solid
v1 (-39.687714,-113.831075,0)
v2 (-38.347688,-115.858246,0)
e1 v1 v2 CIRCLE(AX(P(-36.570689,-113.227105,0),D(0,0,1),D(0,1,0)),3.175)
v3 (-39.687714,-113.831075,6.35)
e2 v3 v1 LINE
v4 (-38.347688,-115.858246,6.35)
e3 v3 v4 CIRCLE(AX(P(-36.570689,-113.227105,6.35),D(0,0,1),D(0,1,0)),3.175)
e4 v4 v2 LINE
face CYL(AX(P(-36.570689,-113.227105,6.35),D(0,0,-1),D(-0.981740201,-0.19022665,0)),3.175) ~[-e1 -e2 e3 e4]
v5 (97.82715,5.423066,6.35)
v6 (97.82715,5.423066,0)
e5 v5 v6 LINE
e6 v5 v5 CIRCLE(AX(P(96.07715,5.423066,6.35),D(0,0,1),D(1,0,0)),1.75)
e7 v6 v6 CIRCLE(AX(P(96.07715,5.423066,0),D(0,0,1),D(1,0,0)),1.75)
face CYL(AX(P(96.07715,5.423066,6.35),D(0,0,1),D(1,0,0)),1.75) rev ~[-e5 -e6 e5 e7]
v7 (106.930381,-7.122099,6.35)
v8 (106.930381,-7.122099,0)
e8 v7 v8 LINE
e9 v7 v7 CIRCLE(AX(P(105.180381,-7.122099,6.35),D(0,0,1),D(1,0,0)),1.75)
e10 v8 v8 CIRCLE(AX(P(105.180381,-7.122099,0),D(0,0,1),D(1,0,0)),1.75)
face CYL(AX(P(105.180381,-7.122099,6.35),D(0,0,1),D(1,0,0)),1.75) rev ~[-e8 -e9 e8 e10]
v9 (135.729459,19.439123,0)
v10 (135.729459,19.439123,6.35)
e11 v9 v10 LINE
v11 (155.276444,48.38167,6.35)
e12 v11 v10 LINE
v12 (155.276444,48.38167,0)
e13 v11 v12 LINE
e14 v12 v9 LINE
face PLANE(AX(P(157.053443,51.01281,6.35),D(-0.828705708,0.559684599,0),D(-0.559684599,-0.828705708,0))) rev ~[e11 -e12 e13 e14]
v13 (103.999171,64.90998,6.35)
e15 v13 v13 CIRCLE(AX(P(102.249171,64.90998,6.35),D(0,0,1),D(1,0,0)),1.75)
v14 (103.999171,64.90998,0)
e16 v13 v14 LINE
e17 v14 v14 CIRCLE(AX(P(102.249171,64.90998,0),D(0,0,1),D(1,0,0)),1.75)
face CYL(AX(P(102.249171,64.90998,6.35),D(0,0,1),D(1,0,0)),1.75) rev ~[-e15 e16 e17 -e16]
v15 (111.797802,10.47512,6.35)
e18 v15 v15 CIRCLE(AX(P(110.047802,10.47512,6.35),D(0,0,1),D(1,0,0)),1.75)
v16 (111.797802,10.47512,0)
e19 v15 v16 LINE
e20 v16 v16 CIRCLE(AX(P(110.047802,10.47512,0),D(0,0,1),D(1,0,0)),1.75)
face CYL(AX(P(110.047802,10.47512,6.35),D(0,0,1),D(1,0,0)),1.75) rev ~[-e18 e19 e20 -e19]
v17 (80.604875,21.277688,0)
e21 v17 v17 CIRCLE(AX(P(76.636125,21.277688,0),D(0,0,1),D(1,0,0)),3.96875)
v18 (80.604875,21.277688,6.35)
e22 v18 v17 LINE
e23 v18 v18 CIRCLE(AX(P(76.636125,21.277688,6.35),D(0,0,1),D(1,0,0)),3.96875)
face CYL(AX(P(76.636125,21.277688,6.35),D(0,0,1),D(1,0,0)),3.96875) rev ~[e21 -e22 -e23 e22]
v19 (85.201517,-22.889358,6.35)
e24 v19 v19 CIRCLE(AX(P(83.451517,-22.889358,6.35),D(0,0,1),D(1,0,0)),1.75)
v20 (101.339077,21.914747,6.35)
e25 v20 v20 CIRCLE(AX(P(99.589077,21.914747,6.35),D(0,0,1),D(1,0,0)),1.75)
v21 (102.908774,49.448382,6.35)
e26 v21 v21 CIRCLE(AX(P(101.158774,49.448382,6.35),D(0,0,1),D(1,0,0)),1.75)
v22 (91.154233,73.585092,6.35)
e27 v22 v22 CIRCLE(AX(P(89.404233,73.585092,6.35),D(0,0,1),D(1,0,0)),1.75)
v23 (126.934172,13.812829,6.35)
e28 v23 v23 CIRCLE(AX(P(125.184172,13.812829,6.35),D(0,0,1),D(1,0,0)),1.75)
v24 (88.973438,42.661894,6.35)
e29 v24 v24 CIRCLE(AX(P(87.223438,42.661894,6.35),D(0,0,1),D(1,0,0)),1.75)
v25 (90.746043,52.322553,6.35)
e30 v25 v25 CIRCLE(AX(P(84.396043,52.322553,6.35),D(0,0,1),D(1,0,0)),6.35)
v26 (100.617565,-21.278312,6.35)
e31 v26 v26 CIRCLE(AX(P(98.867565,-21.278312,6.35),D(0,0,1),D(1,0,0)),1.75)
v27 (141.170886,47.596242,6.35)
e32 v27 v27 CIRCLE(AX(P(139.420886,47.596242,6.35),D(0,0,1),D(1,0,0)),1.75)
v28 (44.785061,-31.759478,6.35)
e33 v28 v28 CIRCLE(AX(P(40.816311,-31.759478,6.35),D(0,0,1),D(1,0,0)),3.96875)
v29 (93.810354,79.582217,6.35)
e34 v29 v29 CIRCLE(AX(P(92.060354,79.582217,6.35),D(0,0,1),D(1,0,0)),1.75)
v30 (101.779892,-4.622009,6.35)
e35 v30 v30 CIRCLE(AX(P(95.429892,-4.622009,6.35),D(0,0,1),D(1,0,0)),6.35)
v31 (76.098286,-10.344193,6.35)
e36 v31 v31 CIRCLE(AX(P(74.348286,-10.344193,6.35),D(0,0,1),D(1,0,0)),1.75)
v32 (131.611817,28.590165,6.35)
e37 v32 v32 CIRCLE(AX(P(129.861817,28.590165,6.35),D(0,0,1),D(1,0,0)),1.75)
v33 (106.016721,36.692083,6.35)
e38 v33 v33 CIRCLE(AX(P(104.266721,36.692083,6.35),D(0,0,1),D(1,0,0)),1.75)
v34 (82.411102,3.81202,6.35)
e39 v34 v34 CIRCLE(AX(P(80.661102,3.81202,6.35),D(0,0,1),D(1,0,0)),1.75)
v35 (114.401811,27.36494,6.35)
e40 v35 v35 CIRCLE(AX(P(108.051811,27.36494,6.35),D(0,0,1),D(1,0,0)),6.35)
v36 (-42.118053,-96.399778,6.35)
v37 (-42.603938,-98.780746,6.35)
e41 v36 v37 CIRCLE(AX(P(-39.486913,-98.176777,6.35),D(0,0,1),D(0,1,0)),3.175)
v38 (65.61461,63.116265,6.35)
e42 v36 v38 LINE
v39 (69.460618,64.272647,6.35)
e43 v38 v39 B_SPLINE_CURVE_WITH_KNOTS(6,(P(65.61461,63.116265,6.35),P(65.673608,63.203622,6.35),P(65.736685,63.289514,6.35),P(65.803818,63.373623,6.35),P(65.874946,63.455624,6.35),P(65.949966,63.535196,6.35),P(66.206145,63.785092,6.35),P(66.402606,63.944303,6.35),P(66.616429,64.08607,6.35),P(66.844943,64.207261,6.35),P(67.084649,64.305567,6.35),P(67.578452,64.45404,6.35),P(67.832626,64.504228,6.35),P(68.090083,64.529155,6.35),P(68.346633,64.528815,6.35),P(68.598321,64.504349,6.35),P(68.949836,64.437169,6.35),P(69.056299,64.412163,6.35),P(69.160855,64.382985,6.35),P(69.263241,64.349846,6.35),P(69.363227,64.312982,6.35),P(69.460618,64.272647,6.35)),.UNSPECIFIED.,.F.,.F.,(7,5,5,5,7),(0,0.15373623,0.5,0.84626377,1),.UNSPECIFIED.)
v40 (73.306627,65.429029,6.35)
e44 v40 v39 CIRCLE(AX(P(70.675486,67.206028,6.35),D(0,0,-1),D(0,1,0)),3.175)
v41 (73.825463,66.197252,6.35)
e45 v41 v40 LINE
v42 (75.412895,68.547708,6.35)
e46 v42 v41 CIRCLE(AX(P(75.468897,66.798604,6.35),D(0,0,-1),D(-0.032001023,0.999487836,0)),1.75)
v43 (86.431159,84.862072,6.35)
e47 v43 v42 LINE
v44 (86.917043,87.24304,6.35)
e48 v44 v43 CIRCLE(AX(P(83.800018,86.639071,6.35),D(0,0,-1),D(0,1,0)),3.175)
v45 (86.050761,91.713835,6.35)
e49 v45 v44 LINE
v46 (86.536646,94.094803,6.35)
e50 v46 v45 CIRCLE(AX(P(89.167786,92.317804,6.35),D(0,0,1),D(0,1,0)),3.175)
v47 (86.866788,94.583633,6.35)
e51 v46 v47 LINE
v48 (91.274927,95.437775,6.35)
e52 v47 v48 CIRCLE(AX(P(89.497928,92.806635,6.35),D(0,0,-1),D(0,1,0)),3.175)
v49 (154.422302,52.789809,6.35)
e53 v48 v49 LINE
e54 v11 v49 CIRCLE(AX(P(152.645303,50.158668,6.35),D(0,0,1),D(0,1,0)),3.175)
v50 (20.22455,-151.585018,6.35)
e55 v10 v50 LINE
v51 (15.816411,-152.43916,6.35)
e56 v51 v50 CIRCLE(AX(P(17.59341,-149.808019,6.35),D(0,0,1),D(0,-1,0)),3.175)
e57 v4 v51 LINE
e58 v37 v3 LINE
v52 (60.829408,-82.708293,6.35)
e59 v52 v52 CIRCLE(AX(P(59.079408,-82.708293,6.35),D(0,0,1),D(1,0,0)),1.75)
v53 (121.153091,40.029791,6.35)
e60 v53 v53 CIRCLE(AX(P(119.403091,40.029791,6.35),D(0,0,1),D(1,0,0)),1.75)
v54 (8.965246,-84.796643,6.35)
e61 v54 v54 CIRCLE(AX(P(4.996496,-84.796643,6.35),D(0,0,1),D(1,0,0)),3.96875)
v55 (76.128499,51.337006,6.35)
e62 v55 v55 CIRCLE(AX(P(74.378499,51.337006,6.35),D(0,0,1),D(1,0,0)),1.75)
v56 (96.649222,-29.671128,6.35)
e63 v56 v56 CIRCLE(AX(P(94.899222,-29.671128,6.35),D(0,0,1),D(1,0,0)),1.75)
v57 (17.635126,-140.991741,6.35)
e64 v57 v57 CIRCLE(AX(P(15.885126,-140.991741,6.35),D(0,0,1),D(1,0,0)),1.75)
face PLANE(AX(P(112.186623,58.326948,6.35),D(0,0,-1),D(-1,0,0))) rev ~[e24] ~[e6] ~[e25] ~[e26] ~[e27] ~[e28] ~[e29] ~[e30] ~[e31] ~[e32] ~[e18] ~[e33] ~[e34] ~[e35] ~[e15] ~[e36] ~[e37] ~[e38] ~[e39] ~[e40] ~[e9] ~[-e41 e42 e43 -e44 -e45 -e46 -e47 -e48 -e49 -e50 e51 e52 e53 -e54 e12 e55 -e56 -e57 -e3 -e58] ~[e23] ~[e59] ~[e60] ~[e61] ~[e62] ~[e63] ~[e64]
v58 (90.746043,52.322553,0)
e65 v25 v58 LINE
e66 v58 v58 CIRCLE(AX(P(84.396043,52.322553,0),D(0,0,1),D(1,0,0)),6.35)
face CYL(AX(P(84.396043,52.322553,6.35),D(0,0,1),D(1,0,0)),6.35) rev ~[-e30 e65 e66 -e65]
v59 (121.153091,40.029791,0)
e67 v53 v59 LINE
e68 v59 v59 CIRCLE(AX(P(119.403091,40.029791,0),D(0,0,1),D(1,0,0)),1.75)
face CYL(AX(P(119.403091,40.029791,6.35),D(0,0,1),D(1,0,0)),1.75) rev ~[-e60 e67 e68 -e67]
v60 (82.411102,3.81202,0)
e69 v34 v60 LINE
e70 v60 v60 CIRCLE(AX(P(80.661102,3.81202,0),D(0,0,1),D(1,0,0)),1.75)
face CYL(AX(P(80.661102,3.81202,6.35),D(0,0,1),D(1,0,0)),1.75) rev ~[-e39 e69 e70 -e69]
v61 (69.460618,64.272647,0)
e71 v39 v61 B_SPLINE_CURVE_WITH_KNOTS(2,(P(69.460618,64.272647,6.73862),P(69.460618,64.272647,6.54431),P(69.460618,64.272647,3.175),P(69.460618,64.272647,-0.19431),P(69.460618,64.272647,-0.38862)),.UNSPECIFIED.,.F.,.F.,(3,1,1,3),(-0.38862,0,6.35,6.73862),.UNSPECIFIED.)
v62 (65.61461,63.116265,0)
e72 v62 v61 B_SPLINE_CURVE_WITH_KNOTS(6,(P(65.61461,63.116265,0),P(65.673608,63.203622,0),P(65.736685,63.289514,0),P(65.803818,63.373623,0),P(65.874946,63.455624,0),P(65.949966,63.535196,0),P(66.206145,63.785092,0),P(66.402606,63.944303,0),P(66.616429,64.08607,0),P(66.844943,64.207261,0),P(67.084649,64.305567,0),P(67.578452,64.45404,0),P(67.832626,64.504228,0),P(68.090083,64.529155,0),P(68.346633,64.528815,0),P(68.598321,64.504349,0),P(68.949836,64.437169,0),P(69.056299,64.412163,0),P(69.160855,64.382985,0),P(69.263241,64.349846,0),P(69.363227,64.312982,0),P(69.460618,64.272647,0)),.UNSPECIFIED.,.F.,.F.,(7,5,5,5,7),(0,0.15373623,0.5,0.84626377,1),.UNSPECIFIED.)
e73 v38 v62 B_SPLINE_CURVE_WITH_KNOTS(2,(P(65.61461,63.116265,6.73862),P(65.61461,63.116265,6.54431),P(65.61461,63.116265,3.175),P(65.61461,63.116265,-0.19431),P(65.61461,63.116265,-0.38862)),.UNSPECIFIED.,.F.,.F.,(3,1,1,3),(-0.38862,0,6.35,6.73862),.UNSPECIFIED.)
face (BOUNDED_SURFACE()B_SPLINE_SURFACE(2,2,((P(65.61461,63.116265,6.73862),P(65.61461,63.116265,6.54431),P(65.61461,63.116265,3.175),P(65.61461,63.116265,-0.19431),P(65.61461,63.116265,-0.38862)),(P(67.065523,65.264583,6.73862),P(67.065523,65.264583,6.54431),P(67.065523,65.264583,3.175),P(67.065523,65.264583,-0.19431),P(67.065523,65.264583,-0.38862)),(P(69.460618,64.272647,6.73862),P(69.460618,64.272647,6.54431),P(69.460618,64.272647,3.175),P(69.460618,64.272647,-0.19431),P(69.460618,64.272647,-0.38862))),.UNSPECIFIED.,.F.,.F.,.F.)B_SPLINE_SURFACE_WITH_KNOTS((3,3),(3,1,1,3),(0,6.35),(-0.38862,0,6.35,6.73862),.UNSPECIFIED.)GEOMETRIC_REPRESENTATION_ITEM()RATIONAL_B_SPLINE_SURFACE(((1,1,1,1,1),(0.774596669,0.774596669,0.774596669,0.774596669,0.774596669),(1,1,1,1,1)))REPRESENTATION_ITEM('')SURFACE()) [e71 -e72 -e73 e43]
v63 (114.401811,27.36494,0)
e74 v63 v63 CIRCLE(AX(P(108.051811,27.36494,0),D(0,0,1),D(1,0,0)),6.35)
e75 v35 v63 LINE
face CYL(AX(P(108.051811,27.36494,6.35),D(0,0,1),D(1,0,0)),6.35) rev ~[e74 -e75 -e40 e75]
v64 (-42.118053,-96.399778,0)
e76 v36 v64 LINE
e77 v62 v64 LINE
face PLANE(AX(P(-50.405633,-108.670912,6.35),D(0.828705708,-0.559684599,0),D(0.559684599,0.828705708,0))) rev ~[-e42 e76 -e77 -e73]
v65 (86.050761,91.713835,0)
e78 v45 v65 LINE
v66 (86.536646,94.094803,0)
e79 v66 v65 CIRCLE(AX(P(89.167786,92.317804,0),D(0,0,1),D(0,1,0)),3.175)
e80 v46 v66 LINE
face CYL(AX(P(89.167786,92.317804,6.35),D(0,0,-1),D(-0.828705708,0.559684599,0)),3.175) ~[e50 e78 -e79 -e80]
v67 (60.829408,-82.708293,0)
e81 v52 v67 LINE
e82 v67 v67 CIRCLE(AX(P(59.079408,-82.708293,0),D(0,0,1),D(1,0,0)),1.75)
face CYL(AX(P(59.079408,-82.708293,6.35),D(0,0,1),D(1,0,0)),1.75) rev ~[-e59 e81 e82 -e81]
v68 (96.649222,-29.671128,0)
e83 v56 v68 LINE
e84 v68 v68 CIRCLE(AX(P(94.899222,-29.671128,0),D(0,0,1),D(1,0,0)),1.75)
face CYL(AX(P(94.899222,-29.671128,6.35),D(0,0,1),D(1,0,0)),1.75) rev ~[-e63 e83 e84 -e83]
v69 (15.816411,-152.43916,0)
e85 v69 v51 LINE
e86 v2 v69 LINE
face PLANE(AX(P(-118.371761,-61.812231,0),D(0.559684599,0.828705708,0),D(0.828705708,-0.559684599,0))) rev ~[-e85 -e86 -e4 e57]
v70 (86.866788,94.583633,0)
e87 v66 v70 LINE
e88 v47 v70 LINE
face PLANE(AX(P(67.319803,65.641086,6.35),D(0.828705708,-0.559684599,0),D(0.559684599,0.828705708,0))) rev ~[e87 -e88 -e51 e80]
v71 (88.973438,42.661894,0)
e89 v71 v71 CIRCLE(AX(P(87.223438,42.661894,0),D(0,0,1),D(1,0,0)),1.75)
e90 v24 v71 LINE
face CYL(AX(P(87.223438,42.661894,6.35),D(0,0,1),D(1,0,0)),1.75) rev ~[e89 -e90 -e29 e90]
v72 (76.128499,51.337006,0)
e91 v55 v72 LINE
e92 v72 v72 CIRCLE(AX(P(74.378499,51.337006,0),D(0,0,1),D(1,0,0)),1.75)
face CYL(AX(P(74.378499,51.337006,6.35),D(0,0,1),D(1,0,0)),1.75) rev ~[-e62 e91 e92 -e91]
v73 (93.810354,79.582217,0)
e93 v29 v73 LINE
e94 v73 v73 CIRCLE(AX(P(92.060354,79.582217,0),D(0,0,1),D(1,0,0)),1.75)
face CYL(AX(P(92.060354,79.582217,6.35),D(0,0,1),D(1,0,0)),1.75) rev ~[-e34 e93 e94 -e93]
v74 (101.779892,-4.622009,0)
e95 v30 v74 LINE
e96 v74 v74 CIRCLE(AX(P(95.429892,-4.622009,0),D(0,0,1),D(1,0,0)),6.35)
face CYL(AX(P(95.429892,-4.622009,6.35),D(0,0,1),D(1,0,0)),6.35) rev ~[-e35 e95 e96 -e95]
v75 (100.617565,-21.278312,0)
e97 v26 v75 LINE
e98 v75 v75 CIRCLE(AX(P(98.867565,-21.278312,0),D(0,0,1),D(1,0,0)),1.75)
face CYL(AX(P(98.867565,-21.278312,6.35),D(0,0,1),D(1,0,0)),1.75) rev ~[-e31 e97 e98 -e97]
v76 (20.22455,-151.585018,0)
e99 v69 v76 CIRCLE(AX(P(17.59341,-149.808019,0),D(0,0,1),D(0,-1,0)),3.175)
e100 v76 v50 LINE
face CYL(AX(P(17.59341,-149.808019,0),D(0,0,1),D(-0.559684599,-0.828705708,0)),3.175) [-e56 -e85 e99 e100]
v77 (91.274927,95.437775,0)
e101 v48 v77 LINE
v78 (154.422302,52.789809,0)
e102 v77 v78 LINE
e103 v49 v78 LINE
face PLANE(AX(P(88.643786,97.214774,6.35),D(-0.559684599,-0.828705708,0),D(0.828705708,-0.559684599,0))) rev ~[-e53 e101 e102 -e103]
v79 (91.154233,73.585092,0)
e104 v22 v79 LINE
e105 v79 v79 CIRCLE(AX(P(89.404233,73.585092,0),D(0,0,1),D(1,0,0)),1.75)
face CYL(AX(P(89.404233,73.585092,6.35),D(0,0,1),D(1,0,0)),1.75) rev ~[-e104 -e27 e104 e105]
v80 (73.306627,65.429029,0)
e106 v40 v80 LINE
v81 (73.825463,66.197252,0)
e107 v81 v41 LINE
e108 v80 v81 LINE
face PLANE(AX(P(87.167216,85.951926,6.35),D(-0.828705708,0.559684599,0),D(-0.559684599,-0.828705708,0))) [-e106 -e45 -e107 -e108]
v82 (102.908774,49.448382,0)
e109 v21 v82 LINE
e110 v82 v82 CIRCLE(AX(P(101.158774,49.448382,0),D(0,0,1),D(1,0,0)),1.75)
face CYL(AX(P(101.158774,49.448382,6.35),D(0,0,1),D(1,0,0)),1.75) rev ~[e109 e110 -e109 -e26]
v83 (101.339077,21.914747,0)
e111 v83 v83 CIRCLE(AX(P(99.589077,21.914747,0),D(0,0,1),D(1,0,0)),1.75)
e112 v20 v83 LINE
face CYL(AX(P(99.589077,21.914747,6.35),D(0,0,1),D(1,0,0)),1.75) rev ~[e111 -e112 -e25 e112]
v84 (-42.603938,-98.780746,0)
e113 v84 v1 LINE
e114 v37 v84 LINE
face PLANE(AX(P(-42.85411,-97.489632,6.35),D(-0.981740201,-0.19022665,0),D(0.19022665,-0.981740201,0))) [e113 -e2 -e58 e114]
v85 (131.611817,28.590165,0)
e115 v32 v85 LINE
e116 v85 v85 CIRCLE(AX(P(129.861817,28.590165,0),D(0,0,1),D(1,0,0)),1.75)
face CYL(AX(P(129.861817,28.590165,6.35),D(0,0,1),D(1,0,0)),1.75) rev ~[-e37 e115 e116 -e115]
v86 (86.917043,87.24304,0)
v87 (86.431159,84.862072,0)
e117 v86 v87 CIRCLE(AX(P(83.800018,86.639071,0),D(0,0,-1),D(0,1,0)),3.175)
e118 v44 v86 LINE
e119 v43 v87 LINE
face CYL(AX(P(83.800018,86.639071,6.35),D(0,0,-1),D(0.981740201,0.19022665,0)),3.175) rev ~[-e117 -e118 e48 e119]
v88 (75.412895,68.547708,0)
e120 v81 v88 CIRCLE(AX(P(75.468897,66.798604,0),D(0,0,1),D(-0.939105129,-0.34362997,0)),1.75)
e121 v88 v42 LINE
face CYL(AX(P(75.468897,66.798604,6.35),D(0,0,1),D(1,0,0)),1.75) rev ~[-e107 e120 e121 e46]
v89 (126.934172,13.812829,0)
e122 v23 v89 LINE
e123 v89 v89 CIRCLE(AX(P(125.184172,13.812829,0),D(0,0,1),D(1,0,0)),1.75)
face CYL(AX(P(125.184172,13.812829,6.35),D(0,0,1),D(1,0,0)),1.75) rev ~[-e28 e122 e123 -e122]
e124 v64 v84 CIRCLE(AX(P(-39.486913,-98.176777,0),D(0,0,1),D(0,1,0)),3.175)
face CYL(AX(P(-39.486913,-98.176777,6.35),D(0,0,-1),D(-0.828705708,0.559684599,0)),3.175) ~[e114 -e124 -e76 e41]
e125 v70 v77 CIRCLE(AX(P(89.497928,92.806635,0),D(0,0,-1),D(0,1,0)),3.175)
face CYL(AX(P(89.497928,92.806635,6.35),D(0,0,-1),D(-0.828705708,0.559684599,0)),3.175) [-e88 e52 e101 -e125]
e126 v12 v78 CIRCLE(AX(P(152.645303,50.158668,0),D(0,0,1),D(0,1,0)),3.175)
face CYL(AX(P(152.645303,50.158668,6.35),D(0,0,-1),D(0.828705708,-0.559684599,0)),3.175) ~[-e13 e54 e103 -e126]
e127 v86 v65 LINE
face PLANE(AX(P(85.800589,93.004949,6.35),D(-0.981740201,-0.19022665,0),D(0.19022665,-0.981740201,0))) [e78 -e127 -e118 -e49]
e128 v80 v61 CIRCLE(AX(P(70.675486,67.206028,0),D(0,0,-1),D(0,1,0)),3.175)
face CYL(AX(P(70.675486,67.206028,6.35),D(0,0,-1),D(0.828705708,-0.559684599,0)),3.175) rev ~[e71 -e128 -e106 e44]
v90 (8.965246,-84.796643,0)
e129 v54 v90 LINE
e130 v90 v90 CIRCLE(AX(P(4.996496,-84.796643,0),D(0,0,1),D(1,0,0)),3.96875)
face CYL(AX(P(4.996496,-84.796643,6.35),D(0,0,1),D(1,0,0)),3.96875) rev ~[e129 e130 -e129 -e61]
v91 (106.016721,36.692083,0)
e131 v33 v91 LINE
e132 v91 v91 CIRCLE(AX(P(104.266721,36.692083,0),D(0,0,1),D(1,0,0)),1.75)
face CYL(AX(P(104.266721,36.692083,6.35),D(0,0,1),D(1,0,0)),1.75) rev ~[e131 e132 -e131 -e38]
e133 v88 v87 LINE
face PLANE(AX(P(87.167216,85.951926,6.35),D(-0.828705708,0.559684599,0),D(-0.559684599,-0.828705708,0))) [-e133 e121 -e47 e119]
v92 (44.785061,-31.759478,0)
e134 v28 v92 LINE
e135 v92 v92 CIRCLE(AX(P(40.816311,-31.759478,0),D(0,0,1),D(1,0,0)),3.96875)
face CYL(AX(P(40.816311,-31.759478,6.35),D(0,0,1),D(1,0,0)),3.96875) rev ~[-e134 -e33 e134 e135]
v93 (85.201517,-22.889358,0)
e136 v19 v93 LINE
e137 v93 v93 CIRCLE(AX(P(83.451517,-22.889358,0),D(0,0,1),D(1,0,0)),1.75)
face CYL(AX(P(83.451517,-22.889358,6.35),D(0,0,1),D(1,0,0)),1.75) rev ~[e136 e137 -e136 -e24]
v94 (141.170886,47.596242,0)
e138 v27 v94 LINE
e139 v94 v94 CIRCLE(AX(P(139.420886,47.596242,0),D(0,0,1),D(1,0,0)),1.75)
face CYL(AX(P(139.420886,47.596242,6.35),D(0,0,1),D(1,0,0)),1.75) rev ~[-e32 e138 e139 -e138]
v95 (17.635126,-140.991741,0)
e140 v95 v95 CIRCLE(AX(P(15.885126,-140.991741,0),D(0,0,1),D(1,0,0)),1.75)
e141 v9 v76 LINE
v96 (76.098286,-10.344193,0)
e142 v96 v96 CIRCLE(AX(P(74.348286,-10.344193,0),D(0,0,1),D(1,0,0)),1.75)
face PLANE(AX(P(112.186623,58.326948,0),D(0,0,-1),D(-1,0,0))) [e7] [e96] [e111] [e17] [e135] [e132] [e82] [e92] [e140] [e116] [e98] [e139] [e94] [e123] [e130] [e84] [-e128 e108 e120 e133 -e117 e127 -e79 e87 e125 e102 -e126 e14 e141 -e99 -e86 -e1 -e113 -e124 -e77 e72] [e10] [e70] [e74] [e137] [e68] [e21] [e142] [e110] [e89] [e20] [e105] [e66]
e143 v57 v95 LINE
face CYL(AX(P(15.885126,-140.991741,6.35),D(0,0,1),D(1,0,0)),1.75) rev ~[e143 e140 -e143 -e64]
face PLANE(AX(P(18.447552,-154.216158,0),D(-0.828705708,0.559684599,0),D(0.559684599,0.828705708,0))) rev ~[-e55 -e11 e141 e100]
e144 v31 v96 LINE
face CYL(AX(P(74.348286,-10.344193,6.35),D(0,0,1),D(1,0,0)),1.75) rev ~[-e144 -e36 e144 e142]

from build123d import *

# Parameters (mm, degrees)
BOSS_EXTRUDE2_DEPTH = 6.35
CUT_EXTRUDE1_DEPTH  = 7.3500001
BOSS_EXTRUDE3_DEPTH = 6.35
SKETCH10_R          = 3.96875
CUT_EXTRUDE2_DEPTH  = 7.35
SKETCH11_R          = 4.5
CUT_EXTRUDE4_DEPTH  = 7.35
BOSS_EXTRUDE4_DEPTH = 6.35
SKETCH13_R          = 1.75
CUT_EXTRUDE5_DEPTH  = 7.35
LPATTERN1_COUNT     = 2
LPATTERN1_PITCH     = 64
SKETCH15_R          = 1.75
CUT_EXTRUDE7_DEPTH  = 7.35
SKETCH16_R          = 1.75
CUT_EXTRUDE8_DEPTH  = 7.35
SKETCH17_R          = 1.75
CUT_EXTRUDE9_DEPTH  = 7.35
SKETCH18_R          = 1.75
SKETCH18_R_2        = 6.35
CUT_EXTRUDE10_DEPTH = 7.35
CUT_EXTRUDE11_DEPTH = 7.35
CUT_EXTRUDE12_DEPTH = 7.35
FILLET1_R           = 3.175
FILLET2_R           = 3.175


with BuildPart() as part:
    # Sketch6 → Boss-Extrude2 (new body)
    with BuildSketch(Plane.XY):
        with BuildLine():
            Line((-68.006850091, -76.67090114), (-109.486767671, -48.656527855))
            Line((-109.486767671, -48.656527855), (-118.371760678, -61.812230963))
            Line((-118.371760678, -61.812230963), (18.447551645, -154.216158235))
            Line((18.447551645, -154.216158235), (135.729459338, 19.43912279))
            Line((135.729459338, 19.43912279), (-1.089852986, 111.843050063))
            Line((-1.089852986, 111.843050063), (-73.946795643, 3.966284577))
            Line((-73.946795643, 3.966284577), (-56.624438948, -7.732749433))
            ThreePointArc((-56.624438948, -7.732749433), (-43.058385537, 37.577891571), (0, 57.15))
            ThreePointArc((0, 57.15), (56.404848571, 31.095576642), (70.829334649, -29.338471048))
            add(Edge.make_bspline(
                [(70.829334649, -29.338471048), (70.811686062, -29.418295928), (70.776015112, -29.578104383), (70.713320217, -29.85478305), (70.619021771, -30.262929245), (70.501052001, -30.762086912), (70.364034474, -31.322191481), (70.199318515, -31.970958926), (70.000453855, -32.723919765), (69.795103485, -33.469783355), (69.582015398, -34.214296028), (69.361377803, -34.956693289), (69.133257682, -35.696762218), (68.838782679, -36.61892651), (68.470566207, -37.720710028), (68.019498024, -38.998776477), (67.474836154, -40.448808619), (66.901337925, -41.887676852), (66.299328392, -43.31485223), (65.669141732, -44.729810424), (65.011119088, -46.132040323), (64.325609411, -47.52103904), (63.612968547, -48.896314904), (62.87355937, -50.257385735), (62.107751613, -51.603779381), (61.315921169, -52.935034173), (60.49845004, -54.250698756), (59.655726138, -55.550331897), (58.571247582, -57.154294757), (57.220953058, -59.045283389), (55.576035723, -61.200397094), (53.604026134, -63.590264702), (51.54329346, -65.904053004), (49.39728314, -68.138962994), (47.169496434, -70.29235602), (44.863486103, -72.361752995), (42.482847363, -74.344831806), (40.031215607, -76.239428526), (36.882516177, -78.494556171), (32.976808929, -81.016011003), (28.250788286, -83.68089187), (21.41551215, -86.919136497), (14.30829026, -89.526654921), (6.996956895, -91.488176442), (-0.451922312, -92.797413176), (-6.61686174, -93.456358442), (-12.81195397, -93.702029749), (-19.009644204, -93.537285056), (-25.183124422, -92.966685286), (-31.306438312, -91.996382122), (-36.598524037, -90.804323442), (-41.072542301, -89.543185606), (-44.752319298, -88.33589156), (-47.664184976, -87.27761875), (-50.541347258, -86.128353728), (-53.381128552, -84.889612663), (-56.180924218, -83.562977818), (-58.593536599, -82.326710176), (-60.633378351, -81.214215821), (-62.313751085, -80.252471782), (-63.646071553, -79.462491566), (-64.966093336, -78.652178853), (-66.222359154, -77.854259082), (-67.143044791, -77.250601571), (-67.736251212, -76.85365602), (-68.006850091, -76.67090114)],
                knots=[0.071020771, 0.071020771, 0.071020771, 0.071020771, 0.071020771, 0.072848477, 0.074676184, 0.07650389, 0.078331597, 0.08198701, 0.085642423, 0.089297836, 0.092953249, 0.096608662, 0.100264075, 0.103919488, 0.107574901, 0.114885727, 0.122196554, 0.12950738, 0.136818214, 0.144129048, 0.151439882, 0.158750716, 0.166061558, 0.173372401, 0.180683243, 0.187994085, 0.195304924, 0.202615763, 0.209926602, 0.217237441, 0.231859103, 0.246480766, 0.261102426, 0.275724085, 0.290345754, 0.304967424, 0.319589099, 0.334210774, 0.348832457, 0.36345414, 0.392697464, 0.421940789, 0.451184112, 0.506140643, 0.535383973, 0.564627303, 0.593870641, 0.623113979, 0.652357319, 0.68160066, 0.710843985, 0.740087309, 0.754708984, 0.769330659, 0.783952333, 0.798574008, 0.813195669, 0.82781733, 0.842438991, 0.849749821, 0.857060652, 0.86437149, 0.871682327, 0.878993165, 0.885158103, 0.885158103, 0.885158103, 0.885158103, 0.885158103], degree=4))
        make_face()
    extrude(amount=BOSS_EXTRUDE2_DEPTH)

    # Sketch8 → Cut-Extrude1 (cut, through all)
    with BuildSketch(Plane.XY.offset(6.35)):
        Polygon((-71.011229489, -93.798205788), (-53.378672597, -90.381637707), (-42.854110111, -97.489632113), (-39.43754203, -115.122189004), align=None)
    extrude(amount=-CUT_EXTRUDE1_DEPTH, mode=Mode.SUBTRACT)

    # Sketch9 → Boss-Extrude3 (add, through all)
    with BuildSketch(Plane.XY.offset(6.35)):
        Polygon((-1.089852986, 111.843050063), (-109.486767671, -48.656527855), (27.332544652, -141.060455127), (135.729459338, 19.43912279), align=None)
    extrude(amount=-BOSS_EXTRUDE3_DEPTH)

    # Sketch10 → Cut-Extrude2 (cut, through all)
    with BuildSketch(Plane.XY.offset(6.35)):
        with Locations((4.996496209, -84.796642912)):
            Circle(SKETCH10_R)
        with Locations((40.816310536, -31.759477627)):
            Circle(SKETCH10_R)
        with Locations((76.636124864, 21.277687659)):
            Circle(SKETCH10_R)
        with Locations((-45.295165913, -45.214466102)):
            Circle(SKETCH10_R)
    extrude(amount=-CUT_EXTRUDE2_DEPTH, mode=Mode.SUBTRACT)

    # Sketch11 → Cut-Extrude4 (cut, through all)
    with BuildSketch(Plane.XY.offset(6.35)):
        Circle(SKETCH11_R)
    extrude(amount=-CUT_EXTRUDE4_DEPTH, mode=Mode.SUBTRACT)

    # Sketch12 → Boss-Extrude4 (add, through all)
    with BuildSketch(Plane.XY.offset(6.35)):
        Polygon((135.729459338, 19.43912279), (67.319803176, 65.641086427), (88.643786393, 97.214773886), (157.053442554, 51.01281025), align=None)
    extrude(amount=-BOSS_EXTRUDE4_DEPTH)

    # Sketch13 → Cut-Extrude5 (cut, through all)
    with BuildSketch(Plane.XY.offset(6.35)):
        with Locations((94.899221836, -29.671127724)):
            Circle(SKETCH13_R)
    cut_extrude5 = extrude(amount=-CUT_EXTRUDE5_DEPTH, mode=Mode.SUBTRACT)

    # LPattern1: Cut-Extrude5 ×2
    with Locations(*[Vector(-0.559684599, -0.828705708, 0) * (i * LPATTERN1_PITCH) for i in range(1, LPATTERN1_COUNT)]):
        add(cut_extrude5, mode=Mode.SUBTRACT)

    # Sketch15 → Cut-Extrude7 (cut, through all)
    with BuildSketch(Plane.XY.offset(6.35)):
        with Locations((-105.147343009, -59.249804902)):
            Circle(SKETCH15_R)
        with Locations((15.885125585, -140.991740566)):
            Circle(SKETCH15_R)
        with Locations((1.472573075, 98.618632394)):
            Circle(SKETCH15_R)
    extrude(amount=-CUT_EXTRUDE7_DEPTH, mode=Mode.SUBTRACT)

    # Sketch16 → Cut-Extrude8 (cut, through all)
    with BuildSketch(Plane.XY.offset(6.35)):
        with Locations((92.060354474, 79.582216994)):
            Circle(SKETCH16_R)
        with Locations((139.420885662, 47.596242169)):
            Circle(SKETCH16_R)
    extrude(amount=-CUT_EXTRUDE8_DEPTH, mode=Mode.SUBTRACT)

    # Sketch17 → Cut-Extrude9 (cut, through all)
    with BuildSketch(Plane.XY.offset(6.35)):
        with Locations((-26.311406216, 17.769986014)):
            Circle(SKETCH17_R)
        with Locations((17.769986014, 26.311406216)):
            Circle(SKETCH17_R)
    extrude(amount=-CUT_EXTRUDE9_DEPTH, mode=Mode.SUBTRACT)

    # Sketch18 → Cut-Extrude10 (cut, through all)
    with BuildSketch(Plane.XY.offset(6.35)):
        with Locations((75.468896753, 66.798604333)):
            Circle(SKETCH18_R)
        with Locations((74.378499235, 51.337005669)):
            Circle(SKETCH18_R)
        with Locations((87.223437703, 42.661894386)):
            Circle(SKETCH18_R)
        with Locations((101.158773688, 49.448381768)):
            Circle(SKETCH18_R)
        with Locations((102.249171205, 64.909980432)):
            Circle(SKETCH18_R)
        with Locations((89.404232738, 73.585091715)):
            Circle(SKETCH18_R)
        with Locations((99.589076537, 21.914747078)):
            Circle(SKETCH18_R)
        with Locations((104.266720973, 36.692082512)):
            Circle(SKETCH18_R)
        with Locations((119.403091077, 40.029791318)):
            Circle(SKETCH18_R)
        with Locations((129.861816745, 28.59016469)):
            Circle(SKETCH18_R)
        with Locations((125.18417231, 13.812829255)):
            Circle(SKETCH18_R)
        with Locations((110.047802206, 10.47512045)):
            Circle(SKETCH18_R)
        with Locations((105.180381325, -7.122099496)):
            Circle(SKETCH18_R)
        with Locations((96.077150237, 5.423066257)):
            Circle(SKETCH18_R)
        with Locations((80.661102457, 3.812019754)):
            Circle(SKETCH18_R)
        with Locations((74.348285765, -10.344192501)):
            Circle(SKETCH18_R)
        with Locations((83.451516853, -22.889358254)):
            Circle(SKETCH18_R)
        with Locations((98.867564633, -21.278311751)):
            Circle(SKETCH18_R)
        with Locations((84.396043028, 52.322553097)):
            Circle(SKETCH18_R_2)
        with Locations((108.051811284, 27.364940468)):
            Circle(SKETCH18_R_2)
        with Locations((95.429892272, -4.622009378)):
            Circle(SKETCH18_R_2)
    extrude(amount=-CUT_EXTRUDE10_DEPTH, mode=Mode.SUBTRACT)

    # Sketch19 → Cut-Extrude11 (cut, through all)
    with BuildSketch(Plane.XY.offset(6.35)):
        Polygon((67.319803176, 65.641086427), (-1.089852986, 111.843050063), (-118.81528907, -62.468948176), (-50.405632909, -108.670911813), align=None)
    extrude(amount=-CUT_EXTRUDE11_DEPTH, mode=Mode.SUBTRACT)

    # Sketch20 → Cut-Extrude12 (cut, through all)
    with BuildSketch(Plane.XY.offset(6.35)):
        Polygon((85.800588631, 93.004948891), (87.167215863, 85.951926135), (71.529628171, 62.797888664), (67.319803176, 65.641086427), align=None)
    extrude(amount=-CUT_EXTRUDE12_DEPTH, mode=Mode.SUBTRACT)

    # Fillet1
    fillet1_edges = [part.edges().sort_by_distance(p)[0] for p in [
        (18.447551645, -154.216158235, 3.175),
        (87.167215863, 85.951926135, 3.175),
        (85.800588631, 93.004948891, 3.175),
        (71.529628171, 62.797888664, 3.175),
        (-39.43754203, -115.122189004, 3.175),
        (-42.854110111, -97.489632113, 3.175),
        (157.053442554, 51.01281025, 3.175),
        (88.643786393, 97.214773886, 3.175),
    ]]
    fillet(fillet1_edges, radius=FILLET1_R)

    # Fillet2
    fillet2_edges = [part.edges().sort_by_distance(p)[0] for p in [
        (67.319803176, 65.641086427, 3.175),
    ]]
    fillet(fillet2_edges, radius=FILLET2_R)


solid = part.part
